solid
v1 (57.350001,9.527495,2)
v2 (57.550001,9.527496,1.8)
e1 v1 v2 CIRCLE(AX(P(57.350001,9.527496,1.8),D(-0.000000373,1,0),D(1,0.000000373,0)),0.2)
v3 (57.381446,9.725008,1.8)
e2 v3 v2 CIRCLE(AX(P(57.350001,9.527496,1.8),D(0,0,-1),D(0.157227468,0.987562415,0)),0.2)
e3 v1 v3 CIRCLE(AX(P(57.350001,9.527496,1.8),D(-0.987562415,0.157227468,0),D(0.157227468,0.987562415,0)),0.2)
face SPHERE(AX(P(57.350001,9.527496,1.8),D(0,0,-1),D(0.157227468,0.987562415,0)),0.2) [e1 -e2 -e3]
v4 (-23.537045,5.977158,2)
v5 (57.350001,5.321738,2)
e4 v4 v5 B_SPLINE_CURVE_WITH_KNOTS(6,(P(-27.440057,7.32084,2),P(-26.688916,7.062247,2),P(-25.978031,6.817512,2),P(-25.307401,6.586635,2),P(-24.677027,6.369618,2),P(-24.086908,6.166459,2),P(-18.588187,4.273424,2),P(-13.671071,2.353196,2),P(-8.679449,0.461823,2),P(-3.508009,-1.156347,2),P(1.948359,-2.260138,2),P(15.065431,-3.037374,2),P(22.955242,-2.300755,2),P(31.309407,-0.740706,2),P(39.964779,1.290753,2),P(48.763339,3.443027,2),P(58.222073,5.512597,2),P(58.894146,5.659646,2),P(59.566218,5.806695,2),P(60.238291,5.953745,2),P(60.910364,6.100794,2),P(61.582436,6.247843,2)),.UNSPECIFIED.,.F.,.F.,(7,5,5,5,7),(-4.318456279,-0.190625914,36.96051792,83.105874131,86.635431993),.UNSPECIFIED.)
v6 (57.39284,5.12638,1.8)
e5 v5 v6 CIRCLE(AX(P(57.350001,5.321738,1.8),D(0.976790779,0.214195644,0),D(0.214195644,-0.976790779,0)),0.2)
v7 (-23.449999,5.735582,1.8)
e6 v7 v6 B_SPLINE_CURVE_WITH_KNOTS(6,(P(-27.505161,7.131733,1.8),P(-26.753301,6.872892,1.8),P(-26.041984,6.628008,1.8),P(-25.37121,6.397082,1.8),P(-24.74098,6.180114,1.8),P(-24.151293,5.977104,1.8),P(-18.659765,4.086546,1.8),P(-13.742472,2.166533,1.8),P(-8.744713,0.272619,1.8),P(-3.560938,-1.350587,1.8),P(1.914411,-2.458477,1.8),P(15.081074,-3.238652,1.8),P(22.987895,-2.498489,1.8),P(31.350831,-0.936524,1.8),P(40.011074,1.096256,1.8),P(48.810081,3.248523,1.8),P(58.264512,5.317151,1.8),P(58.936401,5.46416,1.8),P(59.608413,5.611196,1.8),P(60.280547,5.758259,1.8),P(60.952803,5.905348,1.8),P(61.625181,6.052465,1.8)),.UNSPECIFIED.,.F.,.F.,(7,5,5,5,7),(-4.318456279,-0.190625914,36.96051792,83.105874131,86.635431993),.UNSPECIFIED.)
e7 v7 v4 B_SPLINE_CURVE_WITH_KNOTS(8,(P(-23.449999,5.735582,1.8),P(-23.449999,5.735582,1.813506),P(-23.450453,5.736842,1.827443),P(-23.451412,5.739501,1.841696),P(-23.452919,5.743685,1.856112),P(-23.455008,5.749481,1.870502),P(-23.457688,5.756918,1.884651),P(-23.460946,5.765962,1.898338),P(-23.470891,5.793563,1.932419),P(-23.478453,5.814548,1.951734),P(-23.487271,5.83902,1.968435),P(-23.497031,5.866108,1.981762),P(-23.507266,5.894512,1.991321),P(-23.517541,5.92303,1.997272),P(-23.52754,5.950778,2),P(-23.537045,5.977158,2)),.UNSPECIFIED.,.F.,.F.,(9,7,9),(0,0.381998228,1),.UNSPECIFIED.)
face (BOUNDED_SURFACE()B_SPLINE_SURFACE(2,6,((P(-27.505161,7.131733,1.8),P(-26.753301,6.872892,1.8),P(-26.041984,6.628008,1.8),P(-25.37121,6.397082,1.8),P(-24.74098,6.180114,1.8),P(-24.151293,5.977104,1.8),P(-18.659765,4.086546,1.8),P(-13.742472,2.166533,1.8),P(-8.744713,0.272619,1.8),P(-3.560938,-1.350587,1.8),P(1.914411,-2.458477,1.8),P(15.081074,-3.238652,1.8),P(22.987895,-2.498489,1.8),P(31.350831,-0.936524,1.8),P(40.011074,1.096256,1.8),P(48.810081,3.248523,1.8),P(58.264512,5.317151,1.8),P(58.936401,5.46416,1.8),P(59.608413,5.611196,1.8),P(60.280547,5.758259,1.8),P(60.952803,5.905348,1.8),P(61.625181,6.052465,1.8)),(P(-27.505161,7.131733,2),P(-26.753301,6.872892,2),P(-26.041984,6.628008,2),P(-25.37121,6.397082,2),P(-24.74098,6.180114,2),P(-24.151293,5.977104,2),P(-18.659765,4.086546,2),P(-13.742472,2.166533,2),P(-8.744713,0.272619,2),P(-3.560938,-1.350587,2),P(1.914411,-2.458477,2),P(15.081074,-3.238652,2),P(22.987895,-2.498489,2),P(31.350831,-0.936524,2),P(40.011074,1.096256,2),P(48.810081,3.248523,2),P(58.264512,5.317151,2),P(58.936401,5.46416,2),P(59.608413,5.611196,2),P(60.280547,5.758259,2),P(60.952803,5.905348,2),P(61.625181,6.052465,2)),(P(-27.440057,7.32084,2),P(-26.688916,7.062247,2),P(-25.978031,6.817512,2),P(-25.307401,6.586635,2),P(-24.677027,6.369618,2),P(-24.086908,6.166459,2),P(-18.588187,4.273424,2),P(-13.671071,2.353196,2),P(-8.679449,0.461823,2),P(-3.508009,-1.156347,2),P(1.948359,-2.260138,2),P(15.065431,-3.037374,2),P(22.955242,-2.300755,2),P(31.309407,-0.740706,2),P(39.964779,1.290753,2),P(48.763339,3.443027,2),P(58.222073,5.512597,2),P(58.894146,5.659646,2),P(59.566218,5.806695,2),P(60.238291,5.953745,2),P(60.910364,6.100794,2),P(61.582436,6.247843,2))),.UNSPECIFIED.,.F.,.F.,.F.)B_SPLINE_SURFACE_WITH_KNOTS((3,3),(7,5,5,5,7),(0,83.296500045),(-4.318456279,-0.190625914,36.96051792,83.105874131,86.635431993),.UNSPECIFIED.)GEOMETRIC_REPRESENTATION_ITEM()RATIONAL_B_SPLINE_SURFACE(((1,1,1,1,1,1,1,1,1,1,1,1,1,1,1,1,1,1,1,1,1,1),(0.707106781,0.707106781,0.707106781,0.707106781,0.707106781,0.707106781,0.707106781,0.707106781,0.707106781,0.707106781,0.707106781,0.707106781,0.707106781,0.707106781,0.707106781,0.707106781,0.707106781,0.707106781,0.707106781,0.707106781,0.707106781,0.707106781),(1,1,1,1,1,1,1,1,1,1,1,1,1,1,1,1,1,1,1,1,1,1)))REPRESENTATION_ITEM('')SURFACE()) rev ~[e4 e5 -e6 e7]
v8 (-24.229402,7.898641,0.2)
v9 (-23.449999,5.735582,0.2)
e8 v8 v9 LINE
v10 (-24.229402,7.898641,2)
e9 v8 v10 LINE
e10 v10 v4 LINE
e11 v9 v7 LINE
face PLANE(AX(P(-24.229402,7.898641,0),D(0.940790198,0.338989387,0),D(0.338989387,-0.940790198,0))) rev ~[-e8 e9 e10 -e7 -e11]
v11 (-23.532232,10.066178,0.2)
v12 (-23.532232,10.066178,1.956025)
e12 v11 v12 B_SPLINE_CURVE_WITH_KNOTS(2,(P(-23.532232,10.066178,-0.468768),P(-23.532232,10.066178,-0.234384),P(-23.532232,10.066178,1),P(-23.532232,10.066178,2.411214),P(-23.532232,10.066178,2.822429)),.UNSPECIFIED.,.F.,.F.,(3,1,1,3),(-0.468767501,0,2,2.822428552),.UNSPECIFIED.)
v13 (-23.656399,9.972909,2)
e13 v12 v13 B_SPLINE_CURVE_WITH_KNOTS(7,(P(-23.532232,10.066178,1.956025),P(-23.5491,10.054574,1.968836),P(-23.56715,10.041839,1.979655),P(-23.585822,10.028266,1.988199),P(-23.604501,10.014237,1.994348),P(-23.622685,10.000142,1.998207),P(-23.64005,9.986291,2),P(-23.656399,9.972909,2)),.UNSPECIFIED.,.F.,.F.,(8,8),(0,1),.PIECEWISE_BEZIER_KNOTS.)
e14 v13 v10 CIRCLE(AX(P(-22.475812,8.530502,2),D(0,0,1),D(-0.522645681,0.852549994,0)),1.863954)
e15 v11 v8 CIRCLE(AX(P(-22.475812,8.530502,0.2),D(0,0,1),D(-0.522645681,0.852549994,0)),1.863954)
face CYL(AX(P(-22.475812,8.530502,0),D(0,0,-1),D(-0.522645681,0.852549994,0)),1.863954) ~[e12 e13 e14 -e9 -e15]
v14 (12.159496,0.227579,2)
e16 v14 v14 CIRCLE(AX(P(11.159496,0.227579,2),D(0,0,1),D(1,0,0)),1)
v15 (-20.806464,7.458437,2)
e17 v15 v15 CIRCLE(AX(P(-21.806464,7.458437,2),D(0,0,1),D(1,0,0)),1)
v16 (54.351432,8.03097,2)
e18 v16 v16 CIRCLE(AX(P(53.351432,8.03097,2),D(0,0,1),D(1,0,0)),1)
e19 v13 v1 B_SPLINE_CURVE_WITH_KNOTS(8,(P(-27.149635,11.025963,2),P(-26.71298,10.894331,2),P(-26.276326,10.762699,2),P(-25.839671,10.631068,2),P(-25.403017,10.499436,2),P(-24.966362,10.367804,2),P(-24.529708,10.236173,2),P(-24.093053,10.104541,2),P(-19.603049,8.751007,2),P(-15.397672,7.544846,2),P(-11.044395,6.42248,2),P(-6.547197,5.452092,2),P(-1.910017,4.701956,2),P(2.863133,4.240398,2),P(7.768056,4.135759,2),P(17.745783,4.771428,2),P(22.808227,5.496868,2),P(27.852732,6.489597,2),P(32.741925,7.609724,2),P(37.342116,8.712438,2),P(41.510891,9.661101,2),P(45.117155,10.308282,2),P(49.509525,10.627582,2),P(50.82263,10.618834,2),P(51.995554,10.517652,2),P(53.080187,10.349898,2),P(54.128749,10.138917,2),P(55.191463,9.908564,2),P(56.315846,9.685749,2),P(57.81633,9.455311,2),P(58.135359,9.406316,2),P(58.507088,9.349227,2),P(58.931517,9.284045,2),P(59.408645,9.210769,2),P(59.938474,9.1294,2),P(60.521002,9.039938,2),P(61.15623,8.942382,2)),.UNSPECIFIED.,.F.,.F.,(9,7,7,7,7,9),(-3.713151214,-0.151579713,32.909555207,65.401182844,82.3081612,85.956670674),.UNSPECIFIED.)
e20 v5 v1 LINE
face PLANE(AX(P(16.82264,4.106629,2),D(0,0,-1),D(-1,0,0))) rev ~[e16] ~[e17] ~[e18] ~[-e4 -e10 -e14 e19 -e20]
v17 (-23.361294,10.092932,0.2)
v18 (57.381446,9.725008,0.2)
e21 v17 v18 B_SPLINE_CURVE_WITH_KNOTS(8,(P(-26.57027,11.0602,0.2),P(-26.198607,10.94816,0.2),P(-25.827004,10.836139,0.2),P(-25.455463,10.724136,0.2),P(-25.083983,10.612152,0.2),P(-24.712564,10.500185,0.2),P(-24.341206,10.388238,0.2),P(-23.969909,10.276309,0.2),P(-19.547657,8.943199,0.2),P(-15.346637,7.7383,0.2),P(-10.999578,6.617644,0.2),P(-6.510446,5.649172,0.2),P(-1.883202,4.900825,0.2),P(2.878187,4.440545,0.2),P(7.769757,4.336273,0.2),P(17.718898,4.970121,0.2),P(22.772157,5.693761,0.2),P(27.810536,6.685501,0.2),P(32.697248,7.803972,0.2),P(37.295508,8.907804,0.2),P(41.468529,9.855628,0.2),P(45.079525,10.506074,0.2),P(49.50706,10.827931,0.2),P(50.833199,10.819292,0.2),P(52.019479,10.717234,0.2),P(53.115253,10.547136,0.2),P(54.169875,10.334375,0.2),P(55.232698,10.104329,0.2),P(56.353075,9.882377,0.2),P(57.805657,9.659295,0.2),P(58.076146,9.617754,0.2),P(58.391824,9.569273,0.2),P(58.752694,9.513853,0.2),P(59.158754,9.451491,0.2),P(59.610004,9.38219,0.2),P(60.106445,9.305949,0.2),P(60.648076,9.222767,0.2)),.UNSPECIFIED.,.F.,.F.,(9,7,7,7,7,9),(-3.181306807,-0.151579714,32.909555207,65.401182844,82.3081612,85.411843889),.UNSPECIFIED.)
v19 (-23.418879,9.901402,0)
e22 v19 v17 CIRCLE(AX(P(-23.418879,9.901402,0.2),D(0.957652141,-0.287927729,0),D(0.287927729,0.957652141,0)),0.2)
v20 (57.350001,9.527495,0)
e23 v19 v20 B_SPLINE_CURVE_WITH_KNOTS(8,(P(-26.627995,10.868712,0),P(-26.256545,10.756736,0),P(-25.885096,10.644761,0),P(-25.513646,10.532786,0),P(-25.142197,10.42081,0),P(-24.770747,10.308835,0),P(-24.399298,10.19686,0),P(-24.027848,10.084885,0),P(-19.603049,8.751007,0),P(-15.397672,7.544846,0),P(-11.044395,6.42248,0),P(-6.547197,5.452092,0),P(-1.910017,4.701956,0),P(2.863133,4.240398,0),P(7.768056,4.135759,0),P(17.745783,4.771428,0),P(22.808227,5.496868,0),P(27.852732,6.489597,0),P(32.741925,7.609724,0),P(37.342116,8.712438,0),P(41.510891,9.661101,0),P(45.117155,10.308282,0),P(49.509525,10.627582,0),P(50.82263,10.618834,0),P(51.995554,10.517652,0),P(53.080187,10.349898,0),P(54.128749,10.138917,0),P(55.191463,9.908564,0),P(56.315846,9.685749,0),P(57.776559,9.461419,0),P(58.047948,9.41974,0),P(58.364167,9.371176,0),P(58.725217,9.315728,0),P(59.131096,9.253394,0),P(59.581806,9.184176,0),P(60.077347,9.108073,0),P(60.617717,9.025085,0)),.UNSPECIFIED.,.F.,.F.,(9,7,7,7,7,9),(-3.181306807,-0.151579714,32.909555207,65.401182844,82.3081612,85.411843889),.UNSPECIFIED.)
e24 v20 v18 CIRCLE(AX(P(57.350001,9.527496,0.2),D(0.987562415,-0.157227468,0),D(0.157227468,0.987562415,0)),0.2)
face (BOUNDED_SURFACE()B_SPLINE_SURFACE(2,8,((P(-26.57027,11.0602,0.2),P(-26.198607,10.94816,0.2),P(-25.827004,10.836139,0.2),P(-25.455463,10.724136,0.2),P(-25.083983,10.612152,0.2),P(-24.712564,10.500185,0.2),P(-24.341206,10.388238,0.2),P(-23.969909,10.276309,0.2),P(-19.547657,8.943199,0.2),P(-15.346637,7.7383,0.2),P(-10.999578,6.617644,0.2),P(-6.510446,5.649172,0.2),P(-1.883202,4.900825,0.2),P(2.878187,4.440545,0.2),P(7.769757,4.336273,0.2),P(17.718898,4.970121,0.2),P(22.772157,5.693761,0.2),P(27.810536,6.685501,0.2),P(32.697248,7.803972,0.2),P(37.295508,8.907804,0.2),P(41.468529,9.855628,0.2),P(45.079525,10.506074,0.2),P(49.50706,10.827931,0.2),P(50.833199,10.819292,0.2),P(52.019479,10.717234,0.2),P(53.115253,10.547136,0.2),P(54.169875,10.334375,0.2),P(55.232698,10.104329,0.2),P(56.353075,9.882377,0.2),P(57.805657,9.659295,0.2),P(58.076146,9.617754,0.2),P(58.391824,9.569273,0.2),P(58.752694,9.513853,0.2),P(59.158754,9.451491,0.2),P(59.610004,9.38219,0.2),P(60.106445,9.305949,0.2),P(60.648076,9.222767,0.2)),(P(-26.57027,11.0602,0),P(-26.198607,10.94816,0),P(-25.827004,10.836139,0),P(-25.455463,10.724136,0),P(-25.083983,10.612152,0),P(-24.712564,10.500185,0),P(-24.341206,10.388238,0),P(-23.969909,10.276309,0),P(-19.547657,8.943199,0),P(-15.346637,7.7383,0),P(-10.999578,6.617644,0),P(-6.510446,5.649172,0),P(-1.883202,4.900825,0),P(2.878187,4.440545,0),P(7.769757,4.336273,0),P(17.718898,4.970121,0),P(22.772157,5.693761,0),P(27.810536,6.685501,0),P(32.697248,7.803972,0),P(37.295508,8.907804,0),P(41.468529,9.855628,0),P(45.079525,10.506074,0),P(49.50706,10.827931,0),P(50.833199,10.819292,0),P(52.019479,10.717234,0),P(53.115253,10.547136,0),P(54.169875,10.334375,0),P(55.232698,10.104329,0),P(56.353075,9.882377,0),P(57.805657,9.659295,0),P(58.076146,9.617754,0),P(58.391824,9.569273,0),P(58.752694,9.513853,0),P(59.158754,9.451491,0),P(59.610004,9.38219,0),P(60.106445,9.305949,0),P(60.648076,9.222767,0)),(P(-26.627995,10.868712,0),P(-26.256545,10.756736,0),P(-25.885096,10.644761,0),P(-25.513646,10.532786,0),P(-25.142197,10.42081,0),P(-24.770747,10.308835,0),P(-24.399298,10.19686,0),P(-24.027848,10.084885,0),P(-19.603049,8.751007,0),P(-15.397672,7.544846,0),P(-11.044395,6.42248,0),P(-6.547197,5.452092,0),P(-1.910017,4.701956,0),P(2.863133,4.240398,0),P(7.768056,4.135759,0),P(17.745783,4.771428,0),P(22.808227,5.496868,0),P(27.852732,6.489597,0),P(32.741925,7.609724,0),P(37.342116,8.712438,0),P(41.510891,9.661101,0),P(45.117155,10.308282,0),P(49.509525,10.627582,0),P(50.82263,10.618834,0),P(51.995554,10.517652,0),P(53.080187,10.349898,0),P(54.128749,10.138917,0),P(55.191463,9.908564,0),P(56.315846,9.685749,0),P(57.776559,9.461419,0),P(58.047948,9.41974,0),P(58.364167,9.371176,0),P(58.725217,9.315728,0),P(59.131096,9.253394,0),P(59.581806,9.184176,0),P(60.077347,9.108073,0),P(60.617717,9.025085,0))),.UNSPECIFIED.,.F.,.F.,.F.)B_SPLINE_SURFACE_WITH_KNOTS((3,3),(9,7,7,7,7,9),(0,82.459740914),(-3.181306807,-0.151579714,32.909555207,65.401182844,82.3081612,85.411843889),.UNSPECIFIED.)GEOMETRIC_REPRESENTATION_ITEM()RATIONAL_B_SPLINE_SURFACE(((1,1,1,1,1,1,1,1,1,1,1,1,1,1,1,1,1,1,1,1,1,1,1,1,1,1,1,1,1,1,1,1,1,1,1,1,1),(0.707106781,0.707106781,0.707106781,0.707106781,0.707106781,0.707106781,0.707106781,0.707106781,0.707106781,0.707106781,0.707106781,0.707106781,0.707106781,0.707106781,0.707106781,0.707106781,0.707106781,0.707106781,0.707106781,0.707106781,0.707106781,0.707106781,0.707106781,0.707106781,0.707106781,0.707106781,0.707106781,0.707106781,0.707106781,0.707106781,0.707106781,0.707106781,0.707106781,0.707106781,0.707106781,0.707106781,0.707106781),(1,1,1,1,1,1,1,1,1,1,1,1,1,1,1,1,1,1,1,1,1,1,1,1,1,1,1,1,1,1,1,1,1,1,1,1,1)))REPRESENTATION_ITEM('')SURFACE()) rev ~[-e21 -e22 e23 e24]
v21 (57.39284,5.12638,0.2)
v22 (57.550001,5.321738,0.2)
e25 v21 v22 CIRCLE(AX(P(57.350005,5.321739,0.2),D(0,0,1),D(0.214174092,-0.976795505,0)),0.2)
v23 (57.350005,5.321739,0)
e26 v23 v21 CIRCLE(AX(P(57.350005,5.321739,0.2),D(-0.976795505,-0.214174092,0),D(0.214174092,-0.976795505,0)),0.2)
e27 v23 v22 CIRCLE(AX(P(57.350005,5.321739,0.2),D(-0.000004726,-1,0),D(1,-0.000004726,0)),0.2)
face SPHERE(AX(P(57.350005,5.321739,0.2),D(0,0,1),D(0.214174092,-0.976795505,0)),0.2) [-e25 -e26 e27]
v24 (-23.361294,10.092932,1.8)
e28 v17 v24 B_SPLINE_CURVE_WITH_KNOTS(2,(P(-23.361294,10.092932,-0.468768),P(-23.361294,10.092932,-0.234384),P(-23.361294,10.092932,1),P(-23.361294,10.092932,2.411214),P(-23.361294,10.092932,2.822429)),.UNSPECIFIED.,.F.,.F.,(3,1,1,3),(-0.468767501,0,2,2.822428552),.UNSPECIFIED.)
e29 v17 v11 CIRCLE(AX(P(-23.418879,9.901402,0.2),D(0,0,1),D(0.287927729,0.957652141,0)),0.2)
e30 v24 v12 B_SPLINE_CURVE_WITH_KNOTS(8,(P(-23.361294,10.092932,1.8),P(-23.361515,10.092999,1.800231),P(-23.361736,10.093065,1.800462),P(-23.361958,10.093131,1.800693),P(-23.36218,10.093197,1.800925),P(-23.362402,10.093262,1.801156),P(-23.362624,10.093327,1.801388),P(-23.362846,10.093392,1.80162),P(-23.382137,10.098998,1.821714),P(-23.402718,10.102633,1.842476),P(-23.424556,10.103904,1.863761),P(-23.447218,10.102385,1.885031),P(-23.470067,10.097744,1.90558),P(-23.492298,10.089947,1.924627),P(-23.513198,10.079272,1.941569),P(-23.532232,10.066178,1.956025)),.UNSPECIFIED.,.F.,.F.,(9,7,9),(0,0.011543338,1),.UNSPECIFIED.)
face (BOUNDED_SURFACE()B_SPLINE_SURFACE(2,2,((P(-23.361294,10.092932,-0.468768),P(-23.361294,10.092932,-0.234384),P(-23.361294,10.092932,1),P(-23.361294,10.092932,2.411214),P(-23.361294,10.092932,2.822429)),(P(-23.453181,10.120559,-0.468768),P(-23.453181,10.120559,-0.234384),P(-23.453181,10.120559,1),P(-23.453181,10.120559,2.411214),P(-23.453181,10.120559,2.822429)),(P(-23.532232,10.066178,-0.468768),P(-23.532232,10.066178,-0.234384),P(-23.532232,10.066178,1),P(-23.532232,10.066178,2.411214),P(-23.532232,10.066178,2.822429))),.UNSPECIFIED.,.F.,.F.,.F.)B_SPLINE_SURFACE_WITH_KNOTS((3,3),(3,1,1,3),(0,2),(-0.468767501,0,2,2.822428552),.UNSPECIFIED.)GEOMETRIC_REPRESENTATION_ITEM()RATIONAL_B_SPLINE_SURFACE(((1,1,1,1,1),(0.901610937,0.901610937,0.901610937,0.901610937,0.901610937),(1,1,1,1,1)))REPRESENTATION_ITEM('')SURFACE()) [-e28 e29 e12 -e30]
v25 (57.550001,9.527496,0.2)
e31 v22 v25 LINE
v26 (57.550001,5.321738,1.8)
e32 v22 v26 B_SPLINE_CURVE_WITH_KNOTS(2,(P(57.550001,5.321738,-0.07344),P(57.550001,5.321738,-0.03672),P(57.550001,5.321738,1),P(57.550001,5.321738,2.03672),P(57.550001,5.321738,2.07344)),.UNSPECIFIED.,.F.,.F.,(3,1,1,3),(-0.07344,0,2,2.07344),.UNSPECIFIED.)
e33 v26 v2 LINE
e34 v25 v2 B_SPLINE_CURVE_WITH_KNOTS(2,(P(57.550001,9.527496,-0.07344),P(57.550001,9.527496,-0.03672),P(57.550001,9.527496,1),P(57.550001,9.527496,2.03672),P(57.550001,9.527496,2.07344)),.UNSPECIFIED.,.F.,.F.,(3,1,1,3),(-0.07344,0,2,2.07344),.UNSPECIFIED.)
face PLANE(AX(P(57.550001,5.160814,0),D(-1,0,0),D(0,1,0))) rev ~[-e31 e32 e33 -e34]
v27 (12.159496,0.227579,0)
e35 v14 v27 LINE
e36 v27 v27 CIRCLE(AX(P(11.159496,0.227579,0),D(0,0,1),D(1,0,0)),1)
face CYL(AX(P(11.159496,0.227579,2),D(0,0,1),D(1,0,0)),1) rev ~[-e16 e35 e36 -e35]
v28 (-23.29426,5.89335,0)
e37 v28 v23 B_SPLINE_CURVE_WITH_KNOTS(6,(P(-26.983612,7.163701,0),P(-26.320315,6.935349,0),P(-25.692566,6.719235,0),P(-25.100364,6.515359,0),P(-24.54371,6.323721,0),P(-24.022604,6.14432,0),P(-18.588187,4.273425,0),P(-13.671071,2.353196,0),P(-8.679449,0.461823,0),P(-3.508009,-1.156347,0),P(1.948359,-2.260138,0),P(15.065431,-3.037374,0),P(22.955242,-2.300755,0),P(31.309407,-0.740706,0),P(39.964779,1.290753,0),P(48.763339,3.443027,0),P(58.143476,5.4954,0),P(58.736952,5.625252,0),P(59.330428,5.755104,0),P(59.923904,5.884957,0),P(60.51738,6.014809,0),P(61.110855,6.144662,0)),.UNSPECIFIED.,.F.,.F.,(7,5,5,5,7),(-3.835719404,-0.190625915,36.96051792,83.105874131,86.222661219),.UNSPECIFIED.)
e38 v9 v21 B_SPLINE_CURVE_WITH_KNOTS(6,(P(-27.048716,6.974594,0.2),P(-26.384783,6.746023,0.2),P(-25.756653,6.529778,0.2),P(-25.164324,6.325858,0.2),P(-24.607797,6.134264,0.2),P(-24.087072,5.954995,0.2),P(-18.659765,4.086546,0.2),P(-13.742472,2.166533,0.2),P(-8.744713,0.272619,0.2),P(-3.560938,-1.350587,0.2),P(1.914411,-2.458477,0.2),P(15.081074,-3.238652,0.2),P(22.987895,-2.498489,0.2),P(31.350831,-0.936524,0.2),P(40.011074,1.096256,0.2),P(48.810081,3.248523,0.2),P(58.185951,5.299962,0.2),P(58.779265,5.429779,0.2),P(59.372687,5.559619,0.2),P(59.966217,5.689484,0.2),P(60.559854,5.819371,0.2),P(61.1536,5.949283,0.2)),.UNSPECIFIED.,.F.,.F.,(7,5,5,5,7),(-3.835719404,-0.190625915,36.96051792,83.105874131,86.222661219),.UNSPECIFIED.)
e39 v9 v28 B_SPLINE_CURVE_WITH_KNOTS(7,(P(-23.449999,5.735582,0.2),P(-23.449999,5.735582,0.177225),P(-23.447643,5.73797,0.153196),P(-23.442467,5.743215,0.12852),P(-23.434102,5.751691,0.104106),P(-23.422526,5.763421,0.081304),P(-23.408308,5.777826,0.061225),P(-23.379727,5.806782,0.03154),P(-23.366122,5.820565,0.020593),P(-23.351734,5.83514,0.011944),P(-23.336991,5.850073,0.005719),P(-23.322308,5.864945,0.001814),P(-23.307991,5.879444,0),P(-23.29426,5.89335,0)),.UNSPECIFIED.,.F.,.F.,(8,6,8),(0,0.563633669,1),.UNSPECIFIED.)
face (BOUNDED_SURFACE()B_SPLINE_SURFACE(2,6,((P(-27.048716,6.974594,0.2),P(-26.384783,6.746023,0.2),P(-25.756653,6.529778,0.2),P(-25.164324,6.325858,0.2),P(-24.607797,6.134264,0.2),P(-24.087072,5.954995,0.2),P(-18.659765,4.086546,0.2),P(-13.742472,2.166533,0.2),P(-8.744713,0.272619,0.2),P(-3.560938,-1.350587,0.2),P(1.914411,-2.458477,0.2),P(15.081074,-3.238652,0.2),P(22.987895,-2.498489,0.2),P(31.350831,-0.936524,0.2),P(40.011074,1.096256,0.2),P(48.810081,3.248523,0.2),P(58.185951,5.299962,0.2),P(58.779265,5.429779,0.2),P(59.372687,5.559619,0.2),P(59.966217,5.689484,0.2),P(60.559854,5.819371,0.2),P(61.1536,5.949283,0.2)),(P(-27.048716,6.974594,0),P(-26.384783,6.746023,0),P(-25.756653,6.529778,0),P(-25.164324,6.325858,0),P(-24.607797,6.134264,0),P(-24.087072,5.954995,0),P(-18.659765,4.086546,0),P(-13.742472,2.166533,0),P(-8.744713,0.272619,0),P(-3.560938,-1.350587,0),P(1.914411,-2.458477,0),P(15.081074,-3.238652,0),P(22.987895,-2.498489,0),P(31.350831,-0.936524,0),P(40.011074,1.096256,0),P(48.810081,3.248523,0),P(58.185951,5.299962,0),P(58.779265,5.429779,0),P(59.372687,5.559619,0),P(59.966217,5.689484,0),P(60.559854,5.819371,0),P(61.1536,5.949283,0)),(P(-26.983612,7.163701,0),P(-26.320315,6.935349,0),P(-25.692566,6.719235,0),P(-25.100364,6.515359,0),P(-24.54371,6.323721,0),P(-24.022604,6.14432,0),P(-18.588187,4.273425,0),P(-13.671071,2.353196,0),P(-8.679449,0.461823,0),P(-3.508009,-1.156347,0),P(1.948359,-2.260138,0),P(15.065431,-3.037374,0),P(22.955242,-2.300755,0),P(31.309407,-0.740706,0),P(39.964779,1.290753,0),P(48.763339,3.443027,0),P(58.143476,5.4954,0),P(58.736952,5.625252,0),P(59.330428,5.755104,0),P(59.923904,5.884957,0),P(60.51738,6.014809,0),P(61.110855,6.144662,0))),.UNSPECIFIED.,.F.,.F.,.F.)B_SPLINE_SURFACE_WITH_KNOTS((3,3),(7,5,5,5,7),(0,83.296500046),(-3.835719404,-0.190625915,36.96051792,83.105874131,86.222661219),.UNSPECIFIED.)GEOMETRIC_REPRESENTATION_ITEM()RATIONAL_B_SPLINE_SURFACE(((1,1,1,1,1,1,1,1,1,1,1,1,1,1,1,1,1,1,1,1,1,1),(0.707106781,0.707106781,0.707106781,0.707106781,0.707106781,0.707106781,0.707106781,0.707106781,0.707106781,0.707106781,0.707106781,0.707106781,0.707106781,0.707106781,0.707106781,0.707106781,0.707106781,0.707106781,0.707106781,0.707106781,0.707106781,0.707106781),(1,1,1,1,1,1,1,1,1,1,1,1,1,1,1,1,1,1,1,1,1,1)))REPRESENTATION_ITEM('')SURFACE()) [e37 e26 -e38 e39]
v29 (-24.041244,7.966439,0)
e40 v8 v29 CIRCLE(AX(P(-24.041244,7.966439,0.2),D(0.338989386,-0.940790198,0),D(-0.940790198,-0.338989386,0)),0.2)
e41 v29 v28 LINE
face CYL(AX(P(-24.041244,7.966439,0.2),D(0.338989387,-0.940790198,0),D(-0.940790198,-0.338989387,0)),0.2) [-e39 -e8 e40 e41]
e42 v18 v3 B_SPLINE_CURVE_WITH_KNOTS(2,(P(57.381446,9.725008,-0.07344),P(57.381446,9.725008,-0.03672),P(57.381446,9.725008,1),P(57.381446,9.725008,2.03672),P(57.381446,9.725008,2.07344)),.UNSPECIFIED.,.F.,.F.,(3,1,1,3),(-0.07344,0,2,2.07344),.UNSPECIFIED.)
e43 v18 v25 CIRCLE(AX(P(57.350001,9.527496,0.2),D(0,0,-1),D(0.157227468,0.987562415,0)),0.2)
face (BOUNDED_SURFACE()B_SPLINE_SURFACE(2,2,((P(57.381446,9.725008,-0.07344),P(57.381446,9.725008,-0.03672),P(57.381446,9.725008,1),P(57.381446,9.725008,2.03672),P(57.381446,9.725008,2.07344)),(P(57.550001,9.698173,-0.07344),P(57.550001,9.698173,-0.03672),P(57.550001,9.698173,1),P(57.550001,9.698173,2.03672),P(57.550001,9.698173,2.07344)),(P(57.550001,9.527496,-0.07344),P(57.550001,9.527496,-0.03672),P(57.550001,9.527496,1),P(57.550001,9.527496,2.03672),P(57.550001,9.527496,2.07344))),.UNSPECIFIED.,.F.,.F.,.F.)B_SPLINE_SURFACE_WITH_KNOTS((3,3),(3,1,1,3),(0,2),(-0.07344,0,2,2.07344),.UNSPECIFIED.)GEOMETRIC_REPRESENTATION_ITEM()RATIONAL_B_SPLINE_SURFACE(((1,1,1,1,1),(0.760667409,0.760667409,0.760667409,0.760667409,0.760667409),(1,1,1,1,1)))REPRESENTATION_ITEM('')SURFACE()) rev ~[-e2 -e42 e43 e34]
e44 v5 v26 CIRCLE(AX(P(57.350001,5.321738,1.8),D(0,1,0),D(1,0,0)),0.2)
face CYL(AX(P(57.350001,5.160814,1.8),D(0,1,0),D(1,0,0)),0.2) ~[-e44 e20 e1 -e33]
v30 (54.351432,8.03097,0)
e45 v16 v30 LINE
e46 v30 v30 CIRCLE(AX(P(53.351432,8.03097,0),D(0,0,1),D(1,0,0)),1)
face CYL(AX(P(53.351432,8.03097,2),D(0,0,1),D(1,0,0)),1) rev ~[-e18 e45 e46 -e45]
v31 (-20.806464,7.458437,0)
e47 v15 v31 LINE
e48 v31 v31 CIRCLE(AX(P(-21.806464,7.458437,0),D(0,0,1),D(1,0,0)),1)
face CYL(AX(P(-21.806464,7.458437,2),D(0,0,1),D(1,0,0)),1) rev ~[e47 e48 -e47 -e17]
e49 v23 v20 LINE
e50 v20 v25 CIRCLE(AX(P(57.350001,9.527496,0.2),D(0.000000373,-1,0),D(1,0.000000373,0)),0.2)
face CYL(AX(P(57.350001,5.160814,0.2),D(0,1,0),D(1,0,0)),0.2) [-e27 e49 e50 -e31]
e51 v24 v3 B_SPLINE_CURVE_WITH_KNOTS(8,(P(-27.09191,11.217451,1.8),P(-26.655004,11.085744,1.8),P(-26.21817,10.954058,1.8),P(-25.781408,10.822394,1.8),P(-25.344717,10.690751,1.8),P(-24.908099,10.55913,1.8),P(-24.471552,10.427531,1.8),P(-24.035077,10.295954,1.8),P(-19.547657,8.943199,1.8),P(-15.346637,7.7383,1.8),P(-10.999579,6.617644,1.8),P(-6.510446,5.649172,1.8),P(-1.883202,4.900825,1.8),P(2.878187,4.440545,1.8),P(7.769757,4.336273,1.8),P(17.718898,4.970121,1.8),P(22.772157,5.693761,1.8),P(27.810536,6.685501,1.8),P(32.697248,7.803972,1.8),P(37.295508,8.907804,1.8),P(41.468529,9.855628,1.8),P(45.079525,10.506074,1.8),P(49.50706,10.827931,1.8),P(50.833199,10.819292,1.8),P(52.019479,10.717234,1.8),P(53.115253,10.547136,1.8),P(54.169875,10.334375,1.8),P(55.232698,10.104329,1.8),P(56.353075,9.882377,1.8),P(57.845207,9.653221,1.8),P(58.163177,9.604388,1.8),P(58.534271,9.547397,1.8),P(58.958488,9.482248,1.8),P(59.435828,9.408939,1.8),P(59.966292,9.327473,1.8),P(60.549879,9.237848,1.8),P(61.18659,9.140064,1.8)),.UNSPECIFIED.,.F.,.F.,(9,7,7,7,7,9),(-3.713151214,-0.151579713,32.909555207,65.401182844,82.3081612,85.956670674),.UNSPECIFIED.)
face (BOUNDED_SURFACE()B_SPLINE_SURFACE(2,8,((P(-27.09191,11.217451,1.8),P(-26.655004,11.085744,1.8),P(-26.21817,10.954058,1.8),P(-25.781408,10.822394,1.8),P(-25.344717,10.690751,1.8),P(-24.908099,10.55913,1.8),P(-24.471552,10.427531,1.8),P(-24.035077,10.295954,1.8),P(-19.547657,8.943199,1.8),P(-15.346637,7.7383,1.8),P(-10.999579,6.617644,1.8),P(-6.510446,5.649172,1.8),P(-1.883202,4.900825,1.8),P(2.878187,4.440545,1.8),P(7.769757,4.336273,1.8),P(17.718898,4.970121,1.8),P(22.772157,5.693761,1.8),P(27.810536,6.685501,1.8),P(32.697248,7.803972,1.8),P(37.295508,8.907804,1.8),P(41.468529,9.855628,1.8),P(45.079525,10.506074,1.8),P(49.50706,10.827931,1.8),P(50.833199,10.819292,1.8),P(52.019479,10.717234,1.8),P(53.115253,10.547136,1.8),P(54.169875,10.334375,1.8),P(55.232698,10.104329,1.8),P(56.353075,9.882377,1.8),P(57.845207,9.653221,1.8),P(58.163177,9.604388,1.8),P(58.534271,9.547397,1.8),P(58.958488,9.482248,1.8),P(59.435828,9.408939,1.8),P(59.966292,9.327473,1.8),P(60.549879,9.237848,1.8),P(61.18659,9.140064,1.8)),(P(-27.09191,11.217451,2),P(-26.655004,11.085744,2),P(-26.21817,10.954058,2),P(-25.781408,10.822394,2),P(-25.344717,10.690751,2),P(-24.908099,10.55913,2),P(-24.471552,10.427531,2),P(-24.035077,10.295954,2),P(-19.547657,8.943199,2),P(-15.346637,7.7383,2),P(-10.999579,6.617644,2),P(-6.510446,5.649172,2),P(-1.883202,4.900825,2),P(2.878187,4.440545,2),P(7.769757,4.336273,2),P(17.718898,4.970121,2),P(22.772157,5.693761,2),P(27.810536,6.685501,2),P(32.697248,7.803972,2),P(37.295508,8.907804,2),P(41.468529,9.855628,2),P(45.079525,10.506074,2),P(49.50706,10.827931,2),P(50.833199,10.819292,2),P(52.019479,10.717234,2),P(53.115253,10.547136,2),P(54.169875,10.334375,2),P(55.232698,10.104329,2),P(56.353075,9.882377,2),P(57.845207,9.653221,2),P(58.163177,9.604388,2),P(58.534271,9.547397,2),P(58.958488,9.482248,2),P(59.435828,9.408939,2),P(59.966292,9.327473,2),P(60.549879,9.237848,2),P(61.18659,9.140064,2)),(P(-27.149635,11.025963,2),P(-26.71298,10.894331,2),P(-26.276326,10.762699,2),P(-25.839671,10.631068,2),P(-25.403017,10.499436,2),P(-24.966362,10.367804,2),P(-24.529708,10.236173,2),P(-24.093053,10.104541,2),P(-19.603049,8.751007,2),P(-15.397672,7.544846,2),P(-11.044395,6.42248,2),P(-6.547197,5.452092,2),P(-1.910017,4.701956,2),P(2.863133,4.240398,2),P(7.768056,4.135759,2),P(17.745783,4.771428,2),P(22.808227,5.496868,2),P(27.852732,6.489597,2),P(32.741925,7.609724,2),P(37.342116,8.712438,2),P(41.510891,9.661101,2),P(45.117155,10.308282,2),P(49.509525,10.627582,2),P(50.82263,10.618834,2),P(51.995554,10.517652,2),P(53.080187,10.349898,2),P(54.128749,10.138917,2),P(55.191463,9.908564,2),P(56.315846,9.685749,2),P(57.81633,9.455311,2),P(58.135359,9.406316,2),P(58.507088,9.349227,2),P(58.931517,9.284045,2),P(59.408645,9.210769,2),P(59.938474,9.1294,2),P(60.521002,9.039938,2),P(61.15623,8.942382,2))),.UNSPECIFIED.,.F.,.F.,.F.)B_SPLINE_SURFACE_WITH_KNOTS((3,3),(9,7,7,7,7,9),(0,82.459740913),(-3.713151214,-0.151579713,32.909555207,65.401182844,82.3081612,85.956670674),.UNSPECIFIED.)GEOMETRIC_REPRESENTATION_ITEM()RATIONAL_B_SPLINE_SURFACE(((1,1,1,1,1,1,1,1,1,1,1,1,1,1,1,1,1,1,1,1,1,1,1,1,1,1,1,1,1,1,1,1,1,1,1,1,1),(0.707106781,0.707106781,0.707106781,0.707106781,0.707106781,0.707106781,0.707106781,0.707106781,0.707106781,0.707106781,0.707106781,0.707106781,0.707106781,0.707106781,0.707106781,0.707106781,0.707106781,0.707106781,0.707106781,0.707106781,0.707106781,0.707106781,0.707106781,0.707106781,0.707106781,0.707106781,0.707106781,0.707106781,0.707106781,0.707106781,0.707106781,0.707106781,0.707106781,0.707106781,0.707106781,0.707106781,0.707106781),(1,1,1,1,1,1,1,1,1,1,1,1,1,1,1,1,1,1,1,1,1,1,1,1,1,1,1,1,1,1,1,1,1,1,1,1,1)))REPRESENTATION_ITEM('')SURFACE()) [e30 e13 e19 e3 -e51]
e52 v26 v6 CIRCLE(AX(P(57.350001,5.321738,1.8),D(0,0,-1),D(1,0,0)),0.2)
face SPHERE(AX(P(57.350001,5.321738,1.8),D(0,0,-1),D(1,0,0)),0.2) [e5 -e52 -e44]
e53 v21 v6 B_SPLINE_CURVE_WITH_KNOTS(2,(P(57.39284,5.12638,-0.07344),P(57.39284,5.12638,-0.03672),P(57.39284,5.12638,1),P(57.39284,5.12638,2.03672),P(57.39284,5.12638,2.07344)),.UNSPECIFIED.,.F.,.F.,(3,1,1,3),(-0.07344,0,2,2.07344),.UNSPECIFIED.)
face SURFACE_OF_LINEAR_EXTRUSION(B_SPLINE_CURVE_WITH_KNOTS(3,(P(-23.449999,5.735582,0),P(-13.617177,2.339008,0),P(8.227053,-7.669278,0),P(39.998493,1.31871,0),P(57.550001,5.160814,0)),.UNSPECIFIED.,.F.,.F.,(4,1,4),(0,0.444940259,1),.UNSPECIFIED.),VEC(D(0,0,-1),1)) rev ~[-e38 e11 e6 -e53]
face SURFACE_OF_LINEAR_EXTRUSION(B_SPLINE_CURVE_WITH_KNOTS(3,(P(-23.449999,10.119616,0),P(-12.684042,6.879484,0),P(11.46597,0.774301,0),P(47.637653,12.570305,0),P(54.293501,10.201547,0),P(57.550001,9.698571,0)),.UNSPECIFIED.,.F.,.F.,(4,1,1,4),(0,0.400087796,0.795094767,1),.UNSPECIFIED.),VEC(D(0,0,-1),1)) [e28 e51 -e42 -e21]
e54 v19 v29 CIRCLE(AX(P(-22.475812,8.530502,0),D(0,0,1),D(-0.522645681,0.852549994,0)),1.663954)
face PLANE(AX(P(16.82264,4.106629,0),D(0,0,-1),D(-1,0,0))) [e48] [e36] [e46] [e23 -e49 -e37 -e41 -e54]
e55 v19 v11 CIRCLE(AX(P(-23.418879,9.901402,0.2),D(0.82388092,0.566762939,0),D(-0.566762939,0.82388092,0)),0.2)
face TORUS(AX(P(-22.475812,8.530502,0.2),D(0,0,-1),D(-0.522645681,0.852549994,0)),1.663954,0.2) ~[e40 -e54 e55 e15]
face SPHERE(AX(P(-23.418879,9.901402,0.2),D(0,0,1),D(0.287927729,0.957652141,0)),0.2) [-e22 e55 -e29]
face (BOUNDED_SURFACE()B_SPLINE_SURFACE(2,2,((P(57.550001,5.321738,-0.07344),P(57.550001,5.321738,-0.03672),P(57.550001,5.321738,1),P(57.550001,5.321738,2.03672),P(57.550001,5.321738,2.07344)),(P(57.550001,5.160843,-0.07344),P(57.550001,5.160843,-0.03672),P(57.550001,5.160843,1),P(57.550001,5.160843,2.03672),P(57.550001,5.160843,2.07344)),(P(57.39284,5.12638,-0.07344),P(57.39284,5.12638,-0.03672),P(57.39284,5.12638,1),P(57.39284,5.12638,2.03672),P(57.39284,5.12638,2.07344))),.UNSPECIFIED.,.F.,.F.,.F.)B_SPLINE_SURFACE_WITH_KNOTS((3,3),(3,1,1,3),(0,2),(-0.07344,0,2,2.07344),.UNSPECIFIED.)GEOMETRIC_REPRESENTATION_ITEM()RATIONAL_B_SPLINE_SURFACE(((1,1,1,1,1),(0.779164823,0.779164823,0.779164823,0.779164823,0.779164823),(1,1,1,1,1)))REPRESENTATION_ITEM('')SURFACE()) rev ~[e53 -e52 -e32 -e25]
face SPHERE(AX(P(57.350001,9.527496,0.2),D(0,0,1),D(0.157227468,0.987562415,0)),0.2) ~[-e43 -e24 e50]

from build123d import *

# Parameters (mm, degrees)
F1_DEPTH = 2
F2_R     = 0.2
F3_R     = 1
F4_DEPTH = 25


with BuildPart() as f1:
    # F0 (on Top) → F1 (new body)
    with BuildSketch(Plane.XY):
        with BuildLine():
            add(Edge.make_bspline(
                [(-23.4499994786, 10.1196156968), (-12.6840422085, 6.8794836235), (11.4659695917, 0.7743012779), (47.6376526818, 12.5703054123), (54.293501113, 10.2015469925), (57.5500005214, 9.6985708068)],
                knots=[0, 0, 0, 0, 0.4000877965, 0.7950947671, 1, 1, 1, 1], degree=3))
            ThreePointArc((-23.4499994786, 10.1196156968), (-24.2346111204, 9.1477134118), (-24.2294017226, 7.8986408189))
            Line((-24.2294017226, 7.8986408189), (-23.4499994786, 5.7355819738))
            add(Edge.make_bspline(
                [(-23.4499994786, 5.7355819738), (-13.6171771119, 2.3390075956), (8.227052883, -7.6692778938), (39.9984931729, 1.3187098271), (57.5500005214, 5.160813538)],
                knots=[0, 0, 0, 0, 0.4449402587, 1, 1, 1, 1], degree=3))
            Line((57.5500005214, 5.160813538), (57.5500005214, 9.6985708068))
        make_face()
    extrude(amount=F1_DEPTH)

    # F2
    f2_edges = [f1.edges().sort_by_distance(p)[0] for p in [
        (16.801249, -2.683938, 0),
        (-23.839701, 6.817111, 0),
        (-24.234611, 9.147713, 0),
        (-23.449999, 10.119616, 1),
        (17.043425, 5.047028, 0),
        (17.043425, 5.047028, 2),
        (57.550001, 7.429692, 0),
        (57.550001, 7.429692, 2),
        (16.801249, -2.683938, 2),
        (57.550001, 5.160814, 1),
        (57.550001, 9.698571, 1),
    ]]
    fillet(f2_edges, radius=F2_R)

    # F3 (on face) → F4 (cut)
    with BuildSketch(Plane.XY.offset(2)):
        with Locations((-21.8064635992, 7.4584367685)):
            Circle(F3_R)
        with Locations((53.351432085, 8.0309696496)):
            Circle(F3_R)
        with Locations((11.1594959978, 0.2275792018)):
            Circle(F3_R)
    extrude(amount=-F4_DEPTH, mode=Mode.SUBTRACT)


solid = f1.part
